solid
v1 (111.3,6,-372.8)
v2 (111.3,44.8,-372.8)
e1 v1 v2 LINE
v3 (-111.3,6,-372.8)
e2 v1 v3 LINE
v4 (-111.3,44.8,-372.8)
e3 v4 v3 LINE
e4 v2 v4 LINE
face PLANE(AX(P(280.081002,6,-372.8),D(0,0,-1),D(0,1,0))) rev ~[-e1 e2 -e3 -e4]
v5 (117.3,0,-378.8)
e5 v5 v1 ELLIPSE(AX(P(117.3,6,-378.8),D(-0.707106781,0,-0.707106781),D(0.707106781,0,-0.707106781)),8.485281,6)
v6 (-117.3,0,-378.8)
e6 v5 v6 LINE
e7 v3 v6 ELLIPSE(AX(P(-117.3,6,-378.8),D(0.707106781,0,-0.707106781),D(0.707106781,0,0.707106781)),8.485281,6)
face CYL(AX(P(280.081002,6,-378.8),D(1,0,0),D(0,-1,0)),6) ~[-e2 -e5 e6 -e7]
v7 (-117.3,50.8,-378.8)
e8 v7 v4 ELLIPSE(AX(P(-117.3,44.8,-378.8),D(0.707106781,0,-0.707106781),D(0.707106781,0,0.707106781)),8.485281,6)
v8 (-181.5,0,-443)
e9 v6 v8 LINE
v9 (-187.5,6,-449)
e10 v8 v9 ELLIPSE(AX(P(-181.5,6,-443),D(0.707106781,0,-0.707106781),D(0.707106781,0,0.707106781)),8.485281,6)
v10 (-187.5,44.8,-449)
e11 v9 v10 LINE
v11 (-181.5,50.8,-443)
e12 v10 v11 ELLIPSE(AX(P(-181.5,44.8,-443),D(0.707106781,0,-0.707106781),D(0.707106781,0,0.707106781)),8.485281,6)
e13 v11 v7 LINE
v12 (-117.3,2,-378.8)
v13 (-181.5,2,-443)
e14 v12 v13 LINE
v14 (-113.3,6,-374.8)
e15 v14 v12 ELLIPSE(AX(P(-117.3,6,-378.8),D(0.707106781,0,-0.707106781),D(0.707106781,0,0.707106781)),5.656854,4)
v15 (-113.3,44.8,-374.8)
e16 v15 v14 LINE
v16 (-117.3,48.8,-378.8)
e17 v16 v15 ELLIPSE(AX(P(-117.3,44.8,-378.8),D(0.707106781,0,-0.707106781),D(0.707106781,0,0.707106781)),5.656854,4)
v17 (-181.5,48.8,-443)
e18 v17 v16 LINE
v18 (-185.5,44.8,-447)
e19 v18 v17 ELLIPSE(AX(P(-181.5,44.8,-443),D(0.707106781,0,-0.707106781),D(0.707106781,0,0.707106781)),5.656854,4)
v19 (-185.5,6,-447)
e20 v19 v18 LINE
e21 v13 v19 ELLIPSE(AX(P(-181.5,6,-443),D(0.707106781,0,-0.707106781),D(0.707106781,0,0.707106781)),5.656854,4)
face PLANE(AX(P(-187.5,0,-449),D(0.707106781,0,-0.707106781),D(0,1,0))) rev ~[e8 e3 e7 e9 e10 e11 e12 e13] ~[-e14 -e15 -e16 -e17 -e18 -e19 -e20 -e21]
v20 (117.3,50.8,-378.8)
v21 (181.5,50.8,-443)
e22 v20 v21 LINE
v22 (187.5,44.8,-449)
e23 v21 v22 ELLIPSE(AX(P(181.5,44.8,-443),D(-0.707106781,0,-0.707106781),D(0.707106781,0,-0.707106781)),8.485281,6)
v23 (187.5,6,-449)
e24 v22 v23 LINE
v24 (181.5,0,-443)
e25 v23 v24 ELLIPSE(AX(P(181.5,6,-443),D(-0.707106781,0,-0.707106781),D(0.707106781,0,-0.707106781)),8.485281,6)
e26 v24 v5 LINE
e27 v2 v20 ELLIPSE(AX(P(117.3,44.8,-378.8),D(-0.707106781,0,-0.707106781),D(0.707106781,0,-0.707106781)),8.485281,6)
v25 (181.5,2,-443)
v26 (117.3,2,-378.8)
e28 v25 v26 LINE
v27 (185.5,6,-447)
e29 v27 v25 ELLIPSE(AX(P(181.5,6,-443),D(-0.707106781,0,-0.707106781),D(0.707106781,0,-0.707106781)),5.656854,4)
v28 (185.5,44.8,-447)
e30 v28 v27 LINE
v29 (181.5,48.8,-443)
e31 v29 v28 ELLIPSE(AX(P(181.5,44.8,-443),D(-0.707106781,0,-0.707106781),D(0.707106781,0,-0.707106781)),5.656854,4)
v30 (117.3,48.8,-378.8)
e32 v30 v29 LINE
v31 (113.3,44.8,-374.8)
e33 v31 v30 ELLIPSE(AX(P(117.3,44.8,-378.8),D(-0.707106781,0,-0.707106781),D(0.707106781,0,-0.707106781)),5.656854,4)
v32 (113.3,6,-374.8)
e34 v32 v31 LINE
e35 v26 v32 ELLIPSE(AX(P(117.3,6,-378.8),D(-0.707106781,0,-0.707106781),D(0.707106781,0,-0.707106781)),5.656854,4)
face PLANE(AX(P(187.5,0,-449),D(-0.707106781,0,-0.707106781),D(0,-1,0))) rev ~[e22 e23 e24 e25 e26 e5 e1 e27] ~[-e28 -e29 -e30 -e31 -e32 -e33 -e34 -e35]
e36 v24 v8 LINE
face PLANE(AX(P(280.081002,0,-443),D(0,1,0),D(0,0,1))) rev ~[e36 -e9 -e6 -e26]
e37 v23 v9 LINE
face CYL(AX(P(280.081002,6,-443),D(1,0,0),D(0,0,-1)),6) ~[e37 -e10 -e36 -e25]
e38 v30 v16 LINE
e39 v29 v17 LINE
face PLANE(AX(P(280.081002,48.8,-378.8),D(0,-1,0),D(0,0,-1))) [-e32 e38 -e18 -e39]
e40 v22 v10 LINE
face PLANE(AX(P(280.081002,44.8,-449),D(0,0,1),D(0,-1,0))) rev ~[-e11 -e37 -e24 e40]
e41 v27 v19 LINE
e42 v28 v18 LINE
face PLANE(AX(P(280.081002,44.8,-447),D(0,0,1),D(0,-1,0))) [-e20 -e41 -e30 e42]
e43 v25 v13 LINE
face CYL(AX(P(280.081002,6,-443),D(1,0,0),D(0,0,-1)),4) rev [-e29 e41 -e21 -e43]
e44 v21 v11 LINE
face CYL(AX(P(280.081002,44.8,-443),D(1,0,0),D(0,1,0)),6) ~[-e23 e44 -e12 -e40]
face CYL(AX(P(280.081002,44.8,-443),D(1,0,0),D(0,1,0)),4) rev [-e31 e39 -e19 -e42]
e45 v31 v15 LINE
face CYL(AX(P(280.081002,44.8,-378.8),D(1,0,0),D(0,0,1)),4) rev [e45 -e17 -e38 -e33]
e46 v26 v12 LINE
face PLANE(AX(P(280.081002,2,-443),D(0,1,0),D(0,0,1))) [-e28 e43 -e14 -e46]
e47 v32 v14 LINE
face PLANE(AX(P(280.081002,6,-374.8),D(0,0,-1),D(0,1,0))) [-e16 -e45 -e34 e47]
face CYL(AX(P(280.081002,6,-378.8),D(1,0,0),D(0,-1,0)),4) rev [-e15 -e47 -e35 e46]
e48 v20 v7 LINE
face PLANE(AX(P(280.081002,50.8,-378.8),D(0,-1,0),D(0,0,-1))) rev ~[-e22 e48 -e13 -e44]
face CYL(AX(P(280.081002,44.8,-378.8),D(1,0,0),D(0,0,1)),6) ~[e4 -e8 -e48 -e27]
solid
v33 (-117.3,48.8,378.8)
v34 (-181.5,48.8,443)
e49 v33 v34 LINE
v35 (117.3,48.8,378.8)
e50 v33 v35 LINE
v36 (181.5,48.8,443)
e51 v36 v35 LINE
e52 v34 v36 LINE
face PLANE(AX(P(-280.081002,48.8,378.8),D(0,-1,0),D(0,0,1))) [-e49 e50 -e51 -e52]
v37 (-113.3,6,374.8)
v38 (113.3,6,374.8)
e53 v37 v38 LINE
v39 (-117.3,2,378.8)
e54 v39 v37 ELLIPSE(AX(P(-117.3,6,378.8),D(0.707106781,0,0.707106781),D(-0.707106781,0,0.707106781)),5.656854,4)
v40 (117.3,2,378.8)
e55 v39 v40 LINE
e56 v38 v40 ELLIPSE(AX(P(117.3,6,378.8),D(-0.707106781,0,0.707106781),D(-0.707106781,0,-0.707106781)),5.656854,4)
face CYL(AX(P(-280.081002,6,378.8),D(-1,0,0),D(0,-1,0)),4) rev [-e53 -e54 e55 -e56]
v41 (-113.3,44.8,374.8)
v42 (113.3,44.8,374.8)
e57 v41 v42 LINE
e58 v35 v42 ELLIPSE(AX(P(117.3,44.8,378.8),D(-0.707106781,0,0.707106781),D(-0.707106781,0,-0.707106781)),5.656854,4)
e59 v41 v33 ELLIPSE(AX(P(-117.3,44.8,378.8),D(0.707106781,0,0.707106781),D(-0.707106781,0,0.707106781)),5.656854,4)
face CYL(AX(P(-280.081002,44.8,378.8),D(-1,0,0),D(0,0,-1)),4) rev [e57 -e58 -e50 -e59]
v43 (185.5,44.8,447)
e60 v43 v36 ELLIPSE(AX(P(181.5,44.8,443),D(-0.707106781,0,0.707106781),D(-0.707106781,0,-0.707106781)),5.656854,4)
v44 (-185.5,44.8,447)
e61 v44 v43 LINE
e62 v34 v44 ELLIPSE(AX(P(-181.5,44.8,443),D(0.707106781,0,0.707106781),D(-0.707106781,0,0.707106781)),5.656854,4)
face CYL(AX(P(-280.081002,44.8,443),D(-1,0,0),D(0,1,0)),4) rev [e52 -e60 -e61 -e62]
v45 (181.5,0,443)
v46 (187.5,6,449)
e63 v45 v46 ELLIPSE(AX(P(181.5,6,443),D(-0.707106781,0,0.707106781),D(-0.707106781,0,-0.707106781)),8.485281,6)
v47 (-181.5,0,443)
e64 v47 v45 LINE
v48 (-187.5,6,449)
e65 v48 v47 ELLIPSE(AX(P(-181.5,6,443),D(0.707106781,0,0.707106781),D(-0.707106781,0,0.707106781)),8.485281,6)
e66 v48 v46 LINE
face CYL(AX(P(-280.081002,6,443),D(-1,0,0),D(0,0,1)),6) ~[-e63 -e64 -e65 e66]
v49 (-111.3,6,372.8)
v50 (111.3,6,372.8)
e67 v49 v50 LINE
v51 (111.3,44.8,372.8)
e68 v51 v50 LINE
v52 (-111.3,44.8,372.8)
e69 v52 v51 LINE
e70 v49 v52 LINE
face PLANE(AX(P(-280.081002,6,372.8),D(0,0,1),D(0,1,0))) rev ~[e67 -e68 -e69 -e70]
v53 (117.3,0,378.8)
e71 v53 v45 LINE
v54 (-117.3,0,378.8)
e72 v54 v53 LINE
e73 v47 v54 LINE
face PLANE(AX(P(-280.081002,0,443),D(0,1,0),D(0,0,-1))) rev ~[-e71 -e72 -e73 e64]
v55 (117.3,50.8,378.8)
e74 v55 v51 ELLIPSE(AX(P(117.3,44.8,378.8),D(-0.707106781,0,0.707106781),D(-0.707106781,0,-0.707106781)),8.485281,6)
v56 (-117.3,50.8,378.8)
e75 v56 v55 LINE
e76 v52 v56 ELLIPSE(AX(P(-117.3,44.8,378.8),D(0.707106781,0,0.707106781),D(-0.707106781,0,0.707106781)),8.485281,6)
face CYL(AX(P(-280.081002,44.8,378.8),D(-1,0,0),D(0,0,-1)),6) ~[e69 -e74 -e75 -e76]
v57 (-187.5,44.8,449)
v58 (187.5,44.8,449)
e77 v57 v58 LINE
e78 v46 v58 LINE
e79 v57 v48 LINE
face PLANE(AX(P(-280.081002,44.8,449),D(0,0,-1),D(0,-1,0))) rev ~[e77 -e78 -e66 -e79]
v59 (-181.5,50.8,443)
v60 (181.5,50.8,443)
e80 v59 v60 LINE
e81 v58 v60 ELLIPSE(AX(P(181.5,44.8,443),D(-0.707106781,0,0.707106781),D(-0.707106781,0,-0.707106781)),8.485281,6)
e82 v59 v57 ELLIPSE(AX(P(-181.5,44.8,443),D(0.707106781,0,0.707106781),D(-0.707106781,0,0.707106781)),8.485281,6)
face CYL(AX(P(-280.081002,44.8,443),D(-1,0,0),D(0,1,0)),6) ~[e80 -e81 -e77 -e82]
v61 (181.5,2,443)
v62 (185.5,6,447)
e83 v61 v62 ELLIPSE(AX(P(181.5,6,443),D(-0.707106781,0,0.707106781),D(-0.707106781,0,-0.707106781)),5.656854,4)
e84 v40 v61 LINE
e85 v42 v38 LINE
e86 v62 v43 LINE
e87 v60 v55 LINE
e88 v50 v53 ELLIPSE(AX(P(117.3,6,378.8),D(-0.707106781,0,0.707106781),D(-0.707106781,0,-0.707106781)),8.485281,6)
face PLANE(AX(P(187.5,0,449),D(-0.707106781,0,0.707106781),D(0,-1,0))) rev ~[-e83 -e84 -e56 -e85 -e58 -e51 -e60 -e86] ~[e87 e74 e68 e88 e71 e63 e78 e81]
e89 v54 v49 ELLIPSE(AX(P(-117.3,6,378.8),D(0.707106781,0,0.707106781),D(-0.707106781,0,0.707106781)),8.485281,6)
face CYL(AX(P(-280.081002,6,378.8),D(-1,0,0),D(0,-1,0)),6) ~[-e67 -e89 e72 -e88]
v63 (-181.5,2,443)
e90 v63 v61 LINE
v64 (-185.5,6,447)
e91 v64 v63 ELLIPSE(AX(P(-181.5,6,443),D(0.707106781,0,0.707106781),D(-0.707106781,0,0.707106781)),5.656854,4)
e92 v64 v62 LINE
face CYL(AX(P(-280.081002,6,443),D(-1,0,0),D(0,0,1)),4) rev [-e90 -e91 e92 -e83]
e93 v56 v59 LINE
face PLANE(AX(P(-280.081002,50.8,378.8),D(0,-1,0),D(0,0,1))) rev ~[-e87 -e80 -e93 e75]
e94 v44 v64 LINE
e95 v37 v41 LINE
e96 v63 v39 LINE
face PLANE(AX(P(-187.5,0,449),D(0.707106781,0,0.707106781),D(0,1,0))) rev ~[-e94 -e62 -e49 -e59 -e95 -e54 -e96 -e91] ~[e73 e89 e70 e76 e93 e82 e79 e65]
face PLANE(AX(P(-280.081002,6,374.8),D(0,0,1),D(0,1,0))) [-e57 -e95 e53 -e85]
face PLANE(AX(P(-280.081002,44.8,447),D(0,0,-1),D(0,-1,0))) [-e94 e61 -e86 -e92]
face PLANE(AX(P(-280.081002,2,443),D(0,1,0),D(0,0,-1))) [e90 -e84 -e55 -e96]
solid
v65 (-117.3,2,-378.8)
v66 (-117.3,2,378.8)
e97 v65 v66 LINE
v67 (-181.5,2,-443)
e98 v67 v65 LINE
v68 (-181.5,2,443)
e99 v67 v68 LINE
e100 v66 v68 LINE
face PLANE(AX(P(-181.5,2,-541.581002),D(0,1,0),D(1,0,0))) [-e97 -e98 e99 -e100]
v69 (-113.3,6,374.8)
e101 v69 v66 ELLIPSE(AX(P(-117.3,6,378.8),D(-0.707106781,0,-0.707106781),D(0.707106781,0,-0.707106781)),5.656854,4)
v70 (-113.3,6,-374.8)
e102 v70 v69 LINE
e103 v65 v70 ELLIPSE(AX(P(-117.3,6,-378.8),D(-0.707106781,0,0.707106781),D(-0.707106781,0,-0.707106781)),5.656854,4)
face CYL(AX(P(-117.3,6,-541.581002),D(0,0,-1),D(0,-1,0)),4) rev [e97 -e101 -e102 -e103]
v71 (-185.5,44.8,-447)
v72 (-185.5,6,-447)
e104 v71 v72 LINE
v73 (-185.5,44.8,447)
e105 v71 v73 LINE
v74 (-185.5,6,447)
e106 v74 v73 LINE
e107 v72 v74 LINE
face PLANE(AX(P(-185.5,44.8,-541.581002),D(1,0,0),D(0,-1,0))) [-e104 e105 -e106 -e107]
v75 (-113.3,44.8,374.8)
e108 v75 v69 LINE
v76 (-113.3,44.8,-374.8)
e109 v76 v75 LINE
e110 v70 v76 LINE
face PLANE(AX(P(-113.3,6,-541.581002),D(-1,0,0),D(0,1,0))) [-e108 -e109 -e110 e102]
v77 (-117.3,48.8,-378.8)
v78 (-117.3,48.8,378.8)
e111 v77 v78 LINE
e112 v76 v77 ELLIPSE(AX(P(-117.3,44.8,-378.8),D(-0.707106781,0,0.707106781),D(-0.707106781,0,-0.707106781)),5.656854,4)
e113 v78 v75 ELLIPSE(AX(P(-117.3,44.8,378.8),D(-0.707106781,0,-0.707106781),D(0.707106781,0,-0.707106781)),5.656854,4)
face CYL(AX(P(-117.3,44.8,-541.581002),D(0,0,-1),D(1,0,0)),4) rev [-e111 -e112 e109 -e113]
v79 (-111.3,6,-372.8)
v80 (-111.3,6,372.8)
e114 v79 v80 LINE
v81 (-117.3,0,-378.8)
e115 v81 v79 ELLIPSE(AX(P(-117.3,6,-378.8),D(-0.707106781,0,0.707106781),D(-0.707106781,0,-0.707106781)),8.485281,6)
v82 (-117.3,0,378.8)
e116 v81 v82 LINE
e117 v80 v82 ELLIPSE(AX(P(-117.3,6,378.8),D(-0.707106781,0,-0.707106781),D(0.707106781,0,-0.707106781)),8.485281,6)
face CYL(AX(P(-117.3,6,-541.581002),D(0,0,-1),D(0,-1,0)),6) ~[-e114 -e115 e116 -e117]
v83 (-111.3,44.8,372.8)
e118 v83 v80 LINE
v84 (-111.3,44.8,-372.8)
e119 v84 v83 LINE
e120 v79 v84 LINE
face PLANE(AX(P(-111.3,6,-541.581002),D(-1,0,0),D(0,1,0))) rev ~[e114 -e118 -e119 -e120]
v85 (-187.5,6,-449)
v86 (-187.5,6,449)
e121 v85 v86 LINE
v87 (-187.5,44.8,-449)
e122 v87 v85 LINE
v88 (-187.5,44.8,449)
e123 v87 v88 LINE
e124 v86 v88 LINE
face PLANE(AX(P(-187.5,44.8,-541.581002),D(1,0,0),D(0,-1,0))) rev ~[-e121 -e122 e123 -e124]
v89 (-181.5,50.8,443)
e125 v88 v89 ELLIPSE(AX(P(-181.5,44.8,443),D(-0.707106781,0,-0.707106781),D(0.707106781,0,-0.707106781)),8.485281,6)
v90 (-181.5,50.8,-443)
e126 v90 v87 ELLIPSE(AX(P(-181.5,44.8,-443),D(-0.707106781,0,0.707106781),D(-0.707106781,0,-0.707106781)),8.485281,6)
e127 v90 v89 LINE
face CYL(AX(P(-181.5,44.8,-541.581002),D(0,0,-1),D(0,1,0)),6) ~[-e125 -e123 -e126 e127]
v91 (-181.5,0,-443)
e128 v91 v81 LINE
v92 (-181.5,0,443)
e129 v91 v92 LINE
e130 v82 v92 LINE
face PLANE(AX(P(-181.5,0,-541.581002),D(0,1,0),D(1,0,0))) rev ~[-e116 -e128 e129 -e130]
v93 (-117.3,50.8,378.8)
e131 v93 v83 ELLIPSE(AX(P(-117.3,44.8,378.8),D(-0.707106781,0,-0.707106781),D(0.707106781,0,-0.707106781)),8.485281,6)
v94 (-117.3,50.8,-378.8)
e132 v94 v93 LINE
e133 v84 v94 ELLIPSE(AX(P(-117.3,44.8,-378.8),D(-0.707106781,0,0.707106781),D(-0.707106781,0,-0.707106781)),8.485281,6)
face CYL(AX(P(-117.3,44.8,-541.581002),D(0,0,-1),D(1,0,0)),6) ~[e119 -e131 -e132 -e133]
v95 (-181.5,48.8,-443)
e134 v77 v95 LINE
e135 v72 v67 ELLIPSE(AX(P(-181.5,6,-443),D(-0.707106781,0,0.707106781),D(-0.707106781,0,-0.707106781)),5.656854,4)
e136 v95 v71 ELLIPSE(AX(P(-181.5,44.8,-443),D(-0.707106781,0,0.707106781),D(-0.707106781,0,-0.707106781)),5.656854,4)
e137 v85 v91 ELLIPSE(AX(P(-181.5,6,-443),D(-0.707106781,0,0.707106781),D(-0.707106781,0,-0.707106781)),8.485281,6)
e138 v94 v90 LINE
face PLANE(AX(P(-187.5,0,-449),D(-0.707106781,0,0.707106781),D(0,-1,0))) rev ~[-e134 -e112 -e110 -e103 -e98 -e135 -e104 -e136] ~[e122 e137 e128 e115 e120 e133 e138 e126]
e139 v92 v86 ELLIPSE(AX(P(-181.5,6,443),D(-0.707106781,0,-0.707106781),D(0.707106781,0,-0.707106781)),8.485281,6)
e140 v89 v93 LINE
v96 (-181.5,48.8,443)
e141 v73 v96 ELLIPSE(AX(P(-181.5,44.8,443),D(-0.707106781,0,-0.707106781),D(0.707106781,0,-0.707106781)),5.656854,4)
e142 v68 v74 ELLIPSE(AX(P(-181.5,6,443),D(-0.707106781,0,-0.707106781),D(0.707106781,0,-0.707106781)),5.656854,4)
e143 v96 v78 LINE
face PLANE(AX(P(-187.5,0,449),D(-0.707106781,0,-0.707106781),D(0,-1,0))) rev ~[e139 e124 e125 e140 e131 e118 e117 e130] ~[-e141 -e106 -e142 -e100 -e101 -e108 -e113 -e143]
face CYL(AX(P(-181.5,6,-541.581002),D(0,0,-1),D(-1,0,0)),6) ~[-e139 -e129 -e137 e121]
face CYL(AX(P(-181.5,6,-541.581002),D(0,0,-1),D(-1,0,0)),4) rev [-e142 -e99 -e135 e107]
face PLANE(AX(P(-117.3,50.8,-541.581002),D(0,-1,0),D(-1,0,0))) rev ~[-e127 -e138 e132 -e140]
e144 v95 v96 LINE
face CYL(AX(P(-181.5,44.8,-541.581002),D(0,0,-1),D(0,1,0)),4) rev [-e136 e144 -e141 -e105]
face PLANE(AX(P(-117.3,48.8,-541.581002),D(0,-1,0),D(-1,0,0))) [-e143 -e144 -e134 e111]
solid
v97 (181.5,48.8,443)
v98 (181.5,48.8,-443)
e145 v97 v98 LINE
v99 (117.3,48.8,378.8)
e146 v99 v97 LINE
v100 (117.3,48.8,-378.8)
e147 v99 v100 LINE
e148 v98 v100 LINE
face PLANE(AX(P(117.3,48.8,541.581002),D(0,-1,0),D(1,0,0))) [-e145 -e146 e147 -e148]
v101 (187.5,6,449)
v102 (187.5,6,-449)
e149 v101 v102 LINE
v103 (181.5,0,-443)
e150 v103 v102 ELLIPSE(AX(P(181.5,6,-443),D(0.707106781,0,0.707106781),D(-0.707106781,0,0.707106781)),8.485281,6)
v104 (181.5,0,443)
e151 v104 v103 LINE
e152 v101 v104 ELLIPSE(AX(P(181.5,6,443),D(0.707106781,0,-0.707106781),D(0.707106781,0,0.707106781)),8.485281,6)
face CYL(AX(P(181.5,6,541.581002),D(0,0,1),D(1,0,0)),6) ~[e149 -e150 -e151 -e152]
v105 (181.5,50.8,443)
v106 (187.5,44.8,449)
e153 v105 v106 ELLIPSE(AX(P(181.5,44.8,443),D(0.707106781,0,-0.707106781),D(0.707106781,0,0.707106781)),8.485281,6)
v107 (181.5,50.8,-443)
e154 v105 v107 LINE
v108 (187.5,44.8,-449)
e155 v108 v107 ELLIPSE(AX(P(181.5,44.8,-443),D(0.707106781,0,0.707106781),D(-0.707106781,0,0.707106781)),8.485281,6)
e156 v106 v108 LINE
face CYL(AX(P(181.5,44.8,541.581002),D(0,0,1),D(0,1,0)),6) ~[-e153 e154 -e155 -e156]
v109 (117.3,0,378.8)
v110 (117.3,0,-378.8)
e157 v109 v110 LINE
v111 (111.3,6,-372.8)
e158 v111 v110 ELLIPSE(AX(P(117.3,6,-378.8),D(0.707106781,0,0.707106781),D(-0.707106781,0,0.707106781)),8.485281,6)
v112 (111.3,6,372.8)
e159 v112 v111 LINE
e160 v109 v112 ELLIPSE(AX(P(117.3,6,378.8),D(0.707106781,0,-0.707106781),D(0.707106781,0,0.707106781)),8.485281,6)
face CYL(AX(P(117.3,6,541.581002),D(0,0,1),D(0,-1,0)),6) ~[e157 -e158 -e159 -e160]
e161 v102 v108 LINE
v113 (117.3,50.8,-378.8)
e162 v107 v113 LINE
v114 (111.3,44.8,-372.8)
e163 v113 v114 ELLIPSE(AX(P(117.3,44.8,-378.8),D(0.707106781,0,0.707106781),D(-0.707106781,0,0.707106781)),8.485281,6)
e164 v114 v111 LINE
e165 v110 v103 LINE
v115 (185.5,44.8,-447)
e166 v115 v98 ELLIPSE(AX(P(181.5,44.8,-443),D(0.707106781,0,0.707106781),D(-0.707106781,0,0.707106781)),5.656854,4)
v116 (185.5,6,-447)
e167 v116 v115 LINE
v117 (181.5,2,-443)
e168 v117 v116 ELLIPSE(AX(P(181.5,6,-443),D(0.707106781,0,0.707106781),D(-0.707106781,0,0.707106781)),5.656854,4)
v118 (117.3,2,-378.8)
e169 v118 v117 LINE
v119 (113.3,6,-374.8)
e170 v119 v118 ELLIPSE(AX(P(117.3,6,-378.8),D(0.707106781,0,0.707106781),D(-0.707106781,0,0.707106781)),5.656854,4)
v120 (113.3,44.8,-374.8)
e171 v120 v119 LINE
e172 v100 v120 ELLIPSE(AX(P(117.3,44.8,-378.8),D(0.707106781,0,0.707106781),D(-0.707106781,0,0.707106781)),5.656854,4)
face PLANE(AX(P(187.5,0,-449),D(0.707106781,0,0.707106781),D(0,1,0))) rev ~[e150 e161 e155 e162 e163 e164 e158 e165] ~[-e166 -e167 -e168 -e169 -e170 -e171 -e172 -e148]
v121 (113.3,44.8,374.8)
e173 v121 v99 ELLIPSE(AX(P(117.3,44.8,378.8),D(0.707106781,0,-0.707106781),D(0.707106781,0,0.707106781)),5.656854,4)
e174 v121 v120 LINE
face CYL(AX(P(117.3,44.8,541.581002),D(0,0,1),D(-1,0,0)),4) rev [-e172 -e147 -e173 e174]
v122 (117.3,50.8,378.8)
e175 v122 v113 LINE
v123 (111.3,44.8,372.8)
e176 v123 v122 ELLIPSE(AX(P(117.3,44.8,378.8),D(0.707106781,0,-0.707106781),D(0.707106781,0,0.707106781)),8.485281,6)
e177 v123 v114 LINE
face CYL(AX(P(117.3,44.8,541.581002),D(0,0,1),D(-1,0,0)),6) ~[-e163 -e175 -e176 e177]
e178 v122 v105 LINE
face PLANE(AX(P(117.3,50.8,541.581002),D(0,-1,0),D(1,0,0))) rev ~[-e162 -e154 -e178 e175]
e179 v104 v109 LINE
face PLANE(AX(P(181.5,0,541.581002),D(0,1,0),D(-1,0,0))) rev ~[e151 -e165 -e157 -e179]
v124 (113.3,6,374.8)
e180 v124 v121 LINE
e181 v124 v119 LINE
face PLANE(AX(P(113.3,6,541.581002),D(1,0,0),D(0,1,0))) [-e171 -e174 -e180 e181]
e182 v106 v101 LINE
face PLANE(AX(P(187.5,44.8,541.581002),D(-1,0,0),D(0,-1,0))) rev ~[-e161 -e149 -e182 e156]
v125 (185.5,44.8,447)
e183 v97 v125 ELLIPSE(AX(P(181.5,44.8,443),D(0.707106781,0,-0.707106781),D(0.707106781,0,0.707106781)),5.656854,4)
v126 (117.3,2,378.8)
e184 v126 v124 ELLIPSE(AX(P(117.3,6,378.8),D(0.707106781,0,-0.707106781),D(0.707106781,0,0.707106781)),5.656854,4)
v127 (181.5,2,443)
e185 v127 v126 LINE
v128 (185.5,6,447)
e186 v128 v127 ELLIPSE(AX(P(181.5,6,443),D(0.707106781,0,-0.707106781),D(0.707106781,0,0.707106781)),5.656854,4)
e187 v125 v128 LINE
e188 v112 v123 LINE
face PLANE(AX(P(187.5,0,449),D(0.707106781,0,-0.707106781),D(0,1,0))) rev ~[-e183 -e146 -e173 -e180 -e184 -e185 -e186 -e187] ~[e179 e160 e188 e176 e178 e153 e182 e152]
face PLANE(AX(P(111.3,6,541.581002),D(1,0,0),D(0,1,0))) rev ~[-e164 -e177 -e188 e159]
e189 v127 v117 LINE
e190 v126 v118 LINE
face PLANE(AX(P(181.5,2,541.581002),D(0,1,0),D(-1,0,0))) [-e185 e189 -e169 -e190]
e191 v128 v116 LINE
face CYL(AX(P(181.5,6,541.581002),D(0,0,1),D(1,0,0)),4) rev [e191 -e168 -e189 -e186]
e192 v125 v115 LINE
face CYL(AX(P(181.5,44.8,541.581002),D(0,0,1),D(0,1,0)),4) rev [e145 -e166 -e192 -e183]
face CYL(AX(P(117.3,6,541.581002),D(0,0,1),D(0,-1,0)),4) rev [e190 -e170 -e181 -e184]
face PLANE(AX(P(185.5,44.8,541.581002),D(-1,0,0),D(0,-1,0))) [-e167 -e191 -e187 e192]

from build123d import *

# Parameters (mm, degrees)
TUBO_RECTANGULAR_3_X_2_X_0_25_1_DEPTH      = 990.581002397
TUBO_RECTANGULAR_3_X_2_X_0_25_1_DEPTH_BACK = 92.581002397
TUBO_RECTANGULAR_3_X_2_X_0_25_1_2_DEPTH    = 560.162004794
TUBO_RECTANGULAR_3_X_2_X_0_25_1_3_DEPTH    = 1083.162004794
TUBO_RECTANGULAR_3_X_2_X_0_25_1_4_DEPTH    = 560.162004794


with BuildPart() as part:
    # Sketch1 → Tubo rectangular 3 X 2 X 0.25(1) (new, two sides: drawn at the far end of the back side and taken through both)
    with BuildSketch(Plane(origin=(-149.4, 25.4, -449), x_dir=(1, 0, 0), z_dir=(0, 0, 1)).offset(-TUBO_RECTANGULAR_3_X_2_X_0_25_1_DEPTH_BACK)):
        with BuildLine():
            Line((-32.1, -25.4), (32.1, -25.4))
            ThreePointArc((32.1, -25.4), (36.342640687, -23.642640687), (38.1, -19.4))
            Line((38.1, -19.4), (38.1, 19.4))
            ThreePointArc((38.1, 19.4), (36.342640687, 23.642640687), (32.1, 25.4))
            Line((32.1, 25.4), (-32.1, 25.4))
            ThreePointArc((-32.1, 25.4), (-36.342640687, 23.642640687), (-38.1, 19.4))
            Line((-38.1, 19.4), (-38.1, -19.4))
            ThreePointArc((-38.1, -19.4), (-36.342640687, -23.642640687), (-32.1, -25.4))
        make_face()
        with BuildLine():
            Line((-32.1, -23.4), (32.1, -23.4))
            ThreePointArc((32.1, -23.4), (34.928427125, -22.228427125), (36.1, -19.4))
            Line((36.1, -19.4), (36.1, 19.4))
            ThreePointArc((36.1, 19.4), (34.928427125, 22.228427125), (32.1, 23.4))
            Line((32.1, 23.4), (-32.1, 23.4))
            ThreePointArc((-32.1, 23.4), (-34.928427125, 22.228427125), (-36.1, 19.4))
            Line((-36.1, 19.4), (-36.1, -19.4))
            ThreePointArc((-36.1, -19.4), (-34.928427125, -22.228427125), (-32.1, -23.4))
        make_face(mode=Mode.SUBTRACT)
    extrude(amount=TUBO_RECTANGULAR_3_X_2_X_0_25_1_DEPTH + TUBO_RECTANGULAR_3_X_2_X_0_25_1_DEPTH_BACK)

    # Tubo rectangular 3 X 2 X 0.25(1) mitre 1
    split(bisect_by=Plane(origin=(-187.5, 0, -449), x_dir=(0, -1, 0), z_dir=(-0.707106781, 0, 0.707106781)), keep=Keep.TOP)

    # Tubo rectangular 3 X 2 X 0.25(1) mitre 2
    split(bisect_by=Plane(origin=(-187.5, 0, 449), x_dir=(0, -1, 0), z_dir=(-0.707106781, 0, -0.707106781)), keep=Keep.TOP)


with BuildPart() as body_2:
    # Sketch1 on segment 2 (carried to segment 2) → Tubo rectangular 3 X 2 X 0.25_1 2 (new body)
    with BuildSketch(Plane(origin=(-280.081002397, 25.4, 410.9), x_dir=(0, 0, -1), z_dir=(1, 0, 0))):
        with BuildLine():
            Line((-32.1, -25.4), (32.1, -25.4))
            ThreePointArc((32.1, -25.4), (36.342640687, -23.642640687), (38.1, -19.4))
            Line((38.1, -19.4), (38.1, 19.4))
            ThreePointArc((38.1, 19.4), (36.342640687, 23.642640687), (32.1, 25.4))
            Line((32.1, 25.4), (-32.1, 25.4))
            ThreePointArc((-32.1, 25.4), (-36.342640687, 23.642640687), (-38.1, 19.4))
            Line((-38.1, 19.4), (-38.1, -19.4))
            ThreePointArc((-38.1, -19.4), (-36.342640687, -23.642640687), (-32.1, -25.4))
        make_face()
        with BuildLine():
            Line((-32.1, -23.4), (32.1, -23.4))
            ThreePointArc((32.1, -23.4), (34.928427125, -22.228427125), (36.1, -19.4))
            Line((36.1, -19.4), (36.1, 19.4))
            ThreePointArc((36.1, 19.4), (34.928427125, 22.228427125), (32.1, 23.4))
            Line((32.1, 23.4), (-32.1, 23.4))
            ThreePointArc((-32.1, 23.4), (-34.928427125, 22.228427125), (-36.1, 19.4))
            Line((-36.1, 19.4), (-36.1, -19.4))
            ThreePointArc((-36.1, -19.4), (-34.928427125, -22.228427125), (-32.1, -23.4))
        make_face(mode=Mode.SUBTRACT)
    extrude(amount=TUBO_RECTANGULAR_3_X_2_X_0_25_1_2_DEPTH)

    # Tubo rectangular 3 X 2 X 0.25_1 2 mitre
    split(bisect_by=Plane(origin=(-187.5, 0, 449), x_dir=(0, 1, 0), z_dir=(0.707106781, 0, 0.707106781)), keep=Keep.TOP)

    # Tubo rectangular 3 X 2 X 0.25_1 2 mi 2
    split(bisect_by=Plane(origin=(187.5, 0, 449), x_dir=(0, -1, 0), z_dir=(-0.707106781, 0, 0.707106781)), keep=Keep.TOP)


with BuildPart() as body_3:
    # Sketch1 on segment 3 (carried to segment 3) → Tubo rectangular 3 X 2 X 0.25_1 3 (new body)
    with BuildSketch(Plane(origin=(149.4, 25.4, 541.581002397), x_dir=(-1, 0, 0), z_dir=(0, 0, -1))):
        with BuildLine():
            Line((-32.1, -25.4), (32.1, -25.4))
            ThreePointArc((32.1, -25.4), (36.342640687, -23.642640687), (38.1, -19.4))
            Line((38.1, -19.4), (38.1, 19.4))
            ThreePointArc((38.1, 19.4), (36.342640687, 23.642640687), (32.1, 25.4))
            Line((32.1, 25.4), (-32.1, 25.4))
            ThreePointArc((-32.1, 25.4), (-36.342640687, 23.642640687), (-38.1, 19.4))
            Line((-38.1, 19.4), (-38.1, -19.4))
            ThreePointArc((-38.1, -19.4), (-36.342640687, -23.642640687), (-32.1, -25.4))
        make_face()
        with BuildLine():
            Line((-32.1, -23.4), (32.1, -23.4))
            ThreePointArc((32.1, -23.4), (34.928427125, -22.228427125), (36.1, -19.4))
            Line((36.1, -19.4), (36.1, 19.4))
            ThreePointArc((36.1, 19.4), (34.928427125, 22.228427125), (32.1, 23.4))
            Line((32.1, 23.4), (-32.1, 23.4))
            ThreePointArc((-32.1, 23.4), (-34.928427125, 22.228427125), (-36.1, 19.4))
            Line((-36.1, 19.4), (-36.1, -19.4))
            ThreePointArc((-36.1, -19.4), (-34.928427125, -22.228427125), (-32.1, -23.4))
        make_face(mode=Mode.SUBTRACT)
    extrude(amount=TUBO_RECTANGULAR_3_X_2_X_0_25_1_3_DEPTH)

    # Tubo rectangular 3 X 2 X 0.25_1 3 mitre
    split(bisect_by=Plane(origin=(187.5, 0, -449), x_dir=(0, 1, 0), z_dir=(0.707106781, 0, 0.707106781)), keep=Keep.TOP)

    # Tubo rectangular 3 X 2 X 0.25_1 3 mi 2
    split(bisect_by=Plane(origin=(187.5, 0, 449), x_dir=(0, 1, 0), z_dir=(0.707106781, 0, -0.707106781)), keep=Keep.TOP)


with BuildPart() as body_4:
    # Sketch1 on segment 4 (carried to segment 4) → Tubo rectangular 3 X 2 X 0.25_1 4 (new body)
    with BuildSketch(Plane(origin=(280.081002397, 25.4, -410.9), x_dir=(0, 0, 1), z_dir=(-1, 0, 0))):
        with BuildLine():
            Line((-32.1, -25.4), (32.1, -25.4))
            ThreePointArc((32.1, -25.4), (36.342640687, -23.642640687), (38.1, -19.4))
            Line((38.1, -19.4), (38.1, 19.4))
            ThreePointArc((38.1, 19.4), (36.342640687, 23.642640687), (32.1, 25.4))
            Line((32.1, 25.4), (-32.1, 25.4))
            ThreePointArc((-32.1, 25.4), (-36.342640687, 23.642640687), (-38.1, 19.4))
            Line((-38.1, 19.4), (-38.1, -19.4))
            ThreePointArc((-38.1, -19.4), (-36.342640687, -23.642640687), (-32.1, -25.4))
        make_face()
        with BuildLine():
            Line((-32.1, -23.4), (32.1, -23.4))
            ThreePointArc((32.1, -23.4), (34.928427125, -22.228427125), (36.1, -19.4))
            Line((36.1, -19.4), (36.1, 19.4))
            ThreePointArc((36.1, 19.4), (34.928427125, 22.228427125), (32.1, 23.4))
            Line((32.1, 23.4), (-32.1, 23.4))
            ThreePointArc((-32.1, 23.4), (-34.928427125, 22.228427125), (-36.1, 19.4))
            Line((-36.1, 19.4), (-36.1, -19.4))
            ThreePointArc((-36.1, -19.4), (-34.928427125, -22.228427125), (-32.1, -23.4))
        make_face(mode=Mode.SUBTRACT)
    extrude(amount=TUBO_RECTANGULAR_3_X_2_X_0_25_1_4_DEPTH)

    # Tubo rectangular 3 X 2 X 0.25_1 4 mitre
    split(bisect_by=Plane(origin=(-187.5, 0, -449), x_dir=(0, 1, 0), z_dir=(0.707106781, 0, -0.707106781)), keep=Keep.TOP)

    # Tubo rectangular 3 X 2 X 0.25_1 4 mi 2
    split(bisect_by=Plane(origin=(187.5, 0, -449), x_dir=(0, -1, 0), z_dir=(-0.707106781, 0, -0.707106781)), keep=Keep.TOP)


solid = Compound([part.part, body_2.part, body_3.part, body_4.part])
